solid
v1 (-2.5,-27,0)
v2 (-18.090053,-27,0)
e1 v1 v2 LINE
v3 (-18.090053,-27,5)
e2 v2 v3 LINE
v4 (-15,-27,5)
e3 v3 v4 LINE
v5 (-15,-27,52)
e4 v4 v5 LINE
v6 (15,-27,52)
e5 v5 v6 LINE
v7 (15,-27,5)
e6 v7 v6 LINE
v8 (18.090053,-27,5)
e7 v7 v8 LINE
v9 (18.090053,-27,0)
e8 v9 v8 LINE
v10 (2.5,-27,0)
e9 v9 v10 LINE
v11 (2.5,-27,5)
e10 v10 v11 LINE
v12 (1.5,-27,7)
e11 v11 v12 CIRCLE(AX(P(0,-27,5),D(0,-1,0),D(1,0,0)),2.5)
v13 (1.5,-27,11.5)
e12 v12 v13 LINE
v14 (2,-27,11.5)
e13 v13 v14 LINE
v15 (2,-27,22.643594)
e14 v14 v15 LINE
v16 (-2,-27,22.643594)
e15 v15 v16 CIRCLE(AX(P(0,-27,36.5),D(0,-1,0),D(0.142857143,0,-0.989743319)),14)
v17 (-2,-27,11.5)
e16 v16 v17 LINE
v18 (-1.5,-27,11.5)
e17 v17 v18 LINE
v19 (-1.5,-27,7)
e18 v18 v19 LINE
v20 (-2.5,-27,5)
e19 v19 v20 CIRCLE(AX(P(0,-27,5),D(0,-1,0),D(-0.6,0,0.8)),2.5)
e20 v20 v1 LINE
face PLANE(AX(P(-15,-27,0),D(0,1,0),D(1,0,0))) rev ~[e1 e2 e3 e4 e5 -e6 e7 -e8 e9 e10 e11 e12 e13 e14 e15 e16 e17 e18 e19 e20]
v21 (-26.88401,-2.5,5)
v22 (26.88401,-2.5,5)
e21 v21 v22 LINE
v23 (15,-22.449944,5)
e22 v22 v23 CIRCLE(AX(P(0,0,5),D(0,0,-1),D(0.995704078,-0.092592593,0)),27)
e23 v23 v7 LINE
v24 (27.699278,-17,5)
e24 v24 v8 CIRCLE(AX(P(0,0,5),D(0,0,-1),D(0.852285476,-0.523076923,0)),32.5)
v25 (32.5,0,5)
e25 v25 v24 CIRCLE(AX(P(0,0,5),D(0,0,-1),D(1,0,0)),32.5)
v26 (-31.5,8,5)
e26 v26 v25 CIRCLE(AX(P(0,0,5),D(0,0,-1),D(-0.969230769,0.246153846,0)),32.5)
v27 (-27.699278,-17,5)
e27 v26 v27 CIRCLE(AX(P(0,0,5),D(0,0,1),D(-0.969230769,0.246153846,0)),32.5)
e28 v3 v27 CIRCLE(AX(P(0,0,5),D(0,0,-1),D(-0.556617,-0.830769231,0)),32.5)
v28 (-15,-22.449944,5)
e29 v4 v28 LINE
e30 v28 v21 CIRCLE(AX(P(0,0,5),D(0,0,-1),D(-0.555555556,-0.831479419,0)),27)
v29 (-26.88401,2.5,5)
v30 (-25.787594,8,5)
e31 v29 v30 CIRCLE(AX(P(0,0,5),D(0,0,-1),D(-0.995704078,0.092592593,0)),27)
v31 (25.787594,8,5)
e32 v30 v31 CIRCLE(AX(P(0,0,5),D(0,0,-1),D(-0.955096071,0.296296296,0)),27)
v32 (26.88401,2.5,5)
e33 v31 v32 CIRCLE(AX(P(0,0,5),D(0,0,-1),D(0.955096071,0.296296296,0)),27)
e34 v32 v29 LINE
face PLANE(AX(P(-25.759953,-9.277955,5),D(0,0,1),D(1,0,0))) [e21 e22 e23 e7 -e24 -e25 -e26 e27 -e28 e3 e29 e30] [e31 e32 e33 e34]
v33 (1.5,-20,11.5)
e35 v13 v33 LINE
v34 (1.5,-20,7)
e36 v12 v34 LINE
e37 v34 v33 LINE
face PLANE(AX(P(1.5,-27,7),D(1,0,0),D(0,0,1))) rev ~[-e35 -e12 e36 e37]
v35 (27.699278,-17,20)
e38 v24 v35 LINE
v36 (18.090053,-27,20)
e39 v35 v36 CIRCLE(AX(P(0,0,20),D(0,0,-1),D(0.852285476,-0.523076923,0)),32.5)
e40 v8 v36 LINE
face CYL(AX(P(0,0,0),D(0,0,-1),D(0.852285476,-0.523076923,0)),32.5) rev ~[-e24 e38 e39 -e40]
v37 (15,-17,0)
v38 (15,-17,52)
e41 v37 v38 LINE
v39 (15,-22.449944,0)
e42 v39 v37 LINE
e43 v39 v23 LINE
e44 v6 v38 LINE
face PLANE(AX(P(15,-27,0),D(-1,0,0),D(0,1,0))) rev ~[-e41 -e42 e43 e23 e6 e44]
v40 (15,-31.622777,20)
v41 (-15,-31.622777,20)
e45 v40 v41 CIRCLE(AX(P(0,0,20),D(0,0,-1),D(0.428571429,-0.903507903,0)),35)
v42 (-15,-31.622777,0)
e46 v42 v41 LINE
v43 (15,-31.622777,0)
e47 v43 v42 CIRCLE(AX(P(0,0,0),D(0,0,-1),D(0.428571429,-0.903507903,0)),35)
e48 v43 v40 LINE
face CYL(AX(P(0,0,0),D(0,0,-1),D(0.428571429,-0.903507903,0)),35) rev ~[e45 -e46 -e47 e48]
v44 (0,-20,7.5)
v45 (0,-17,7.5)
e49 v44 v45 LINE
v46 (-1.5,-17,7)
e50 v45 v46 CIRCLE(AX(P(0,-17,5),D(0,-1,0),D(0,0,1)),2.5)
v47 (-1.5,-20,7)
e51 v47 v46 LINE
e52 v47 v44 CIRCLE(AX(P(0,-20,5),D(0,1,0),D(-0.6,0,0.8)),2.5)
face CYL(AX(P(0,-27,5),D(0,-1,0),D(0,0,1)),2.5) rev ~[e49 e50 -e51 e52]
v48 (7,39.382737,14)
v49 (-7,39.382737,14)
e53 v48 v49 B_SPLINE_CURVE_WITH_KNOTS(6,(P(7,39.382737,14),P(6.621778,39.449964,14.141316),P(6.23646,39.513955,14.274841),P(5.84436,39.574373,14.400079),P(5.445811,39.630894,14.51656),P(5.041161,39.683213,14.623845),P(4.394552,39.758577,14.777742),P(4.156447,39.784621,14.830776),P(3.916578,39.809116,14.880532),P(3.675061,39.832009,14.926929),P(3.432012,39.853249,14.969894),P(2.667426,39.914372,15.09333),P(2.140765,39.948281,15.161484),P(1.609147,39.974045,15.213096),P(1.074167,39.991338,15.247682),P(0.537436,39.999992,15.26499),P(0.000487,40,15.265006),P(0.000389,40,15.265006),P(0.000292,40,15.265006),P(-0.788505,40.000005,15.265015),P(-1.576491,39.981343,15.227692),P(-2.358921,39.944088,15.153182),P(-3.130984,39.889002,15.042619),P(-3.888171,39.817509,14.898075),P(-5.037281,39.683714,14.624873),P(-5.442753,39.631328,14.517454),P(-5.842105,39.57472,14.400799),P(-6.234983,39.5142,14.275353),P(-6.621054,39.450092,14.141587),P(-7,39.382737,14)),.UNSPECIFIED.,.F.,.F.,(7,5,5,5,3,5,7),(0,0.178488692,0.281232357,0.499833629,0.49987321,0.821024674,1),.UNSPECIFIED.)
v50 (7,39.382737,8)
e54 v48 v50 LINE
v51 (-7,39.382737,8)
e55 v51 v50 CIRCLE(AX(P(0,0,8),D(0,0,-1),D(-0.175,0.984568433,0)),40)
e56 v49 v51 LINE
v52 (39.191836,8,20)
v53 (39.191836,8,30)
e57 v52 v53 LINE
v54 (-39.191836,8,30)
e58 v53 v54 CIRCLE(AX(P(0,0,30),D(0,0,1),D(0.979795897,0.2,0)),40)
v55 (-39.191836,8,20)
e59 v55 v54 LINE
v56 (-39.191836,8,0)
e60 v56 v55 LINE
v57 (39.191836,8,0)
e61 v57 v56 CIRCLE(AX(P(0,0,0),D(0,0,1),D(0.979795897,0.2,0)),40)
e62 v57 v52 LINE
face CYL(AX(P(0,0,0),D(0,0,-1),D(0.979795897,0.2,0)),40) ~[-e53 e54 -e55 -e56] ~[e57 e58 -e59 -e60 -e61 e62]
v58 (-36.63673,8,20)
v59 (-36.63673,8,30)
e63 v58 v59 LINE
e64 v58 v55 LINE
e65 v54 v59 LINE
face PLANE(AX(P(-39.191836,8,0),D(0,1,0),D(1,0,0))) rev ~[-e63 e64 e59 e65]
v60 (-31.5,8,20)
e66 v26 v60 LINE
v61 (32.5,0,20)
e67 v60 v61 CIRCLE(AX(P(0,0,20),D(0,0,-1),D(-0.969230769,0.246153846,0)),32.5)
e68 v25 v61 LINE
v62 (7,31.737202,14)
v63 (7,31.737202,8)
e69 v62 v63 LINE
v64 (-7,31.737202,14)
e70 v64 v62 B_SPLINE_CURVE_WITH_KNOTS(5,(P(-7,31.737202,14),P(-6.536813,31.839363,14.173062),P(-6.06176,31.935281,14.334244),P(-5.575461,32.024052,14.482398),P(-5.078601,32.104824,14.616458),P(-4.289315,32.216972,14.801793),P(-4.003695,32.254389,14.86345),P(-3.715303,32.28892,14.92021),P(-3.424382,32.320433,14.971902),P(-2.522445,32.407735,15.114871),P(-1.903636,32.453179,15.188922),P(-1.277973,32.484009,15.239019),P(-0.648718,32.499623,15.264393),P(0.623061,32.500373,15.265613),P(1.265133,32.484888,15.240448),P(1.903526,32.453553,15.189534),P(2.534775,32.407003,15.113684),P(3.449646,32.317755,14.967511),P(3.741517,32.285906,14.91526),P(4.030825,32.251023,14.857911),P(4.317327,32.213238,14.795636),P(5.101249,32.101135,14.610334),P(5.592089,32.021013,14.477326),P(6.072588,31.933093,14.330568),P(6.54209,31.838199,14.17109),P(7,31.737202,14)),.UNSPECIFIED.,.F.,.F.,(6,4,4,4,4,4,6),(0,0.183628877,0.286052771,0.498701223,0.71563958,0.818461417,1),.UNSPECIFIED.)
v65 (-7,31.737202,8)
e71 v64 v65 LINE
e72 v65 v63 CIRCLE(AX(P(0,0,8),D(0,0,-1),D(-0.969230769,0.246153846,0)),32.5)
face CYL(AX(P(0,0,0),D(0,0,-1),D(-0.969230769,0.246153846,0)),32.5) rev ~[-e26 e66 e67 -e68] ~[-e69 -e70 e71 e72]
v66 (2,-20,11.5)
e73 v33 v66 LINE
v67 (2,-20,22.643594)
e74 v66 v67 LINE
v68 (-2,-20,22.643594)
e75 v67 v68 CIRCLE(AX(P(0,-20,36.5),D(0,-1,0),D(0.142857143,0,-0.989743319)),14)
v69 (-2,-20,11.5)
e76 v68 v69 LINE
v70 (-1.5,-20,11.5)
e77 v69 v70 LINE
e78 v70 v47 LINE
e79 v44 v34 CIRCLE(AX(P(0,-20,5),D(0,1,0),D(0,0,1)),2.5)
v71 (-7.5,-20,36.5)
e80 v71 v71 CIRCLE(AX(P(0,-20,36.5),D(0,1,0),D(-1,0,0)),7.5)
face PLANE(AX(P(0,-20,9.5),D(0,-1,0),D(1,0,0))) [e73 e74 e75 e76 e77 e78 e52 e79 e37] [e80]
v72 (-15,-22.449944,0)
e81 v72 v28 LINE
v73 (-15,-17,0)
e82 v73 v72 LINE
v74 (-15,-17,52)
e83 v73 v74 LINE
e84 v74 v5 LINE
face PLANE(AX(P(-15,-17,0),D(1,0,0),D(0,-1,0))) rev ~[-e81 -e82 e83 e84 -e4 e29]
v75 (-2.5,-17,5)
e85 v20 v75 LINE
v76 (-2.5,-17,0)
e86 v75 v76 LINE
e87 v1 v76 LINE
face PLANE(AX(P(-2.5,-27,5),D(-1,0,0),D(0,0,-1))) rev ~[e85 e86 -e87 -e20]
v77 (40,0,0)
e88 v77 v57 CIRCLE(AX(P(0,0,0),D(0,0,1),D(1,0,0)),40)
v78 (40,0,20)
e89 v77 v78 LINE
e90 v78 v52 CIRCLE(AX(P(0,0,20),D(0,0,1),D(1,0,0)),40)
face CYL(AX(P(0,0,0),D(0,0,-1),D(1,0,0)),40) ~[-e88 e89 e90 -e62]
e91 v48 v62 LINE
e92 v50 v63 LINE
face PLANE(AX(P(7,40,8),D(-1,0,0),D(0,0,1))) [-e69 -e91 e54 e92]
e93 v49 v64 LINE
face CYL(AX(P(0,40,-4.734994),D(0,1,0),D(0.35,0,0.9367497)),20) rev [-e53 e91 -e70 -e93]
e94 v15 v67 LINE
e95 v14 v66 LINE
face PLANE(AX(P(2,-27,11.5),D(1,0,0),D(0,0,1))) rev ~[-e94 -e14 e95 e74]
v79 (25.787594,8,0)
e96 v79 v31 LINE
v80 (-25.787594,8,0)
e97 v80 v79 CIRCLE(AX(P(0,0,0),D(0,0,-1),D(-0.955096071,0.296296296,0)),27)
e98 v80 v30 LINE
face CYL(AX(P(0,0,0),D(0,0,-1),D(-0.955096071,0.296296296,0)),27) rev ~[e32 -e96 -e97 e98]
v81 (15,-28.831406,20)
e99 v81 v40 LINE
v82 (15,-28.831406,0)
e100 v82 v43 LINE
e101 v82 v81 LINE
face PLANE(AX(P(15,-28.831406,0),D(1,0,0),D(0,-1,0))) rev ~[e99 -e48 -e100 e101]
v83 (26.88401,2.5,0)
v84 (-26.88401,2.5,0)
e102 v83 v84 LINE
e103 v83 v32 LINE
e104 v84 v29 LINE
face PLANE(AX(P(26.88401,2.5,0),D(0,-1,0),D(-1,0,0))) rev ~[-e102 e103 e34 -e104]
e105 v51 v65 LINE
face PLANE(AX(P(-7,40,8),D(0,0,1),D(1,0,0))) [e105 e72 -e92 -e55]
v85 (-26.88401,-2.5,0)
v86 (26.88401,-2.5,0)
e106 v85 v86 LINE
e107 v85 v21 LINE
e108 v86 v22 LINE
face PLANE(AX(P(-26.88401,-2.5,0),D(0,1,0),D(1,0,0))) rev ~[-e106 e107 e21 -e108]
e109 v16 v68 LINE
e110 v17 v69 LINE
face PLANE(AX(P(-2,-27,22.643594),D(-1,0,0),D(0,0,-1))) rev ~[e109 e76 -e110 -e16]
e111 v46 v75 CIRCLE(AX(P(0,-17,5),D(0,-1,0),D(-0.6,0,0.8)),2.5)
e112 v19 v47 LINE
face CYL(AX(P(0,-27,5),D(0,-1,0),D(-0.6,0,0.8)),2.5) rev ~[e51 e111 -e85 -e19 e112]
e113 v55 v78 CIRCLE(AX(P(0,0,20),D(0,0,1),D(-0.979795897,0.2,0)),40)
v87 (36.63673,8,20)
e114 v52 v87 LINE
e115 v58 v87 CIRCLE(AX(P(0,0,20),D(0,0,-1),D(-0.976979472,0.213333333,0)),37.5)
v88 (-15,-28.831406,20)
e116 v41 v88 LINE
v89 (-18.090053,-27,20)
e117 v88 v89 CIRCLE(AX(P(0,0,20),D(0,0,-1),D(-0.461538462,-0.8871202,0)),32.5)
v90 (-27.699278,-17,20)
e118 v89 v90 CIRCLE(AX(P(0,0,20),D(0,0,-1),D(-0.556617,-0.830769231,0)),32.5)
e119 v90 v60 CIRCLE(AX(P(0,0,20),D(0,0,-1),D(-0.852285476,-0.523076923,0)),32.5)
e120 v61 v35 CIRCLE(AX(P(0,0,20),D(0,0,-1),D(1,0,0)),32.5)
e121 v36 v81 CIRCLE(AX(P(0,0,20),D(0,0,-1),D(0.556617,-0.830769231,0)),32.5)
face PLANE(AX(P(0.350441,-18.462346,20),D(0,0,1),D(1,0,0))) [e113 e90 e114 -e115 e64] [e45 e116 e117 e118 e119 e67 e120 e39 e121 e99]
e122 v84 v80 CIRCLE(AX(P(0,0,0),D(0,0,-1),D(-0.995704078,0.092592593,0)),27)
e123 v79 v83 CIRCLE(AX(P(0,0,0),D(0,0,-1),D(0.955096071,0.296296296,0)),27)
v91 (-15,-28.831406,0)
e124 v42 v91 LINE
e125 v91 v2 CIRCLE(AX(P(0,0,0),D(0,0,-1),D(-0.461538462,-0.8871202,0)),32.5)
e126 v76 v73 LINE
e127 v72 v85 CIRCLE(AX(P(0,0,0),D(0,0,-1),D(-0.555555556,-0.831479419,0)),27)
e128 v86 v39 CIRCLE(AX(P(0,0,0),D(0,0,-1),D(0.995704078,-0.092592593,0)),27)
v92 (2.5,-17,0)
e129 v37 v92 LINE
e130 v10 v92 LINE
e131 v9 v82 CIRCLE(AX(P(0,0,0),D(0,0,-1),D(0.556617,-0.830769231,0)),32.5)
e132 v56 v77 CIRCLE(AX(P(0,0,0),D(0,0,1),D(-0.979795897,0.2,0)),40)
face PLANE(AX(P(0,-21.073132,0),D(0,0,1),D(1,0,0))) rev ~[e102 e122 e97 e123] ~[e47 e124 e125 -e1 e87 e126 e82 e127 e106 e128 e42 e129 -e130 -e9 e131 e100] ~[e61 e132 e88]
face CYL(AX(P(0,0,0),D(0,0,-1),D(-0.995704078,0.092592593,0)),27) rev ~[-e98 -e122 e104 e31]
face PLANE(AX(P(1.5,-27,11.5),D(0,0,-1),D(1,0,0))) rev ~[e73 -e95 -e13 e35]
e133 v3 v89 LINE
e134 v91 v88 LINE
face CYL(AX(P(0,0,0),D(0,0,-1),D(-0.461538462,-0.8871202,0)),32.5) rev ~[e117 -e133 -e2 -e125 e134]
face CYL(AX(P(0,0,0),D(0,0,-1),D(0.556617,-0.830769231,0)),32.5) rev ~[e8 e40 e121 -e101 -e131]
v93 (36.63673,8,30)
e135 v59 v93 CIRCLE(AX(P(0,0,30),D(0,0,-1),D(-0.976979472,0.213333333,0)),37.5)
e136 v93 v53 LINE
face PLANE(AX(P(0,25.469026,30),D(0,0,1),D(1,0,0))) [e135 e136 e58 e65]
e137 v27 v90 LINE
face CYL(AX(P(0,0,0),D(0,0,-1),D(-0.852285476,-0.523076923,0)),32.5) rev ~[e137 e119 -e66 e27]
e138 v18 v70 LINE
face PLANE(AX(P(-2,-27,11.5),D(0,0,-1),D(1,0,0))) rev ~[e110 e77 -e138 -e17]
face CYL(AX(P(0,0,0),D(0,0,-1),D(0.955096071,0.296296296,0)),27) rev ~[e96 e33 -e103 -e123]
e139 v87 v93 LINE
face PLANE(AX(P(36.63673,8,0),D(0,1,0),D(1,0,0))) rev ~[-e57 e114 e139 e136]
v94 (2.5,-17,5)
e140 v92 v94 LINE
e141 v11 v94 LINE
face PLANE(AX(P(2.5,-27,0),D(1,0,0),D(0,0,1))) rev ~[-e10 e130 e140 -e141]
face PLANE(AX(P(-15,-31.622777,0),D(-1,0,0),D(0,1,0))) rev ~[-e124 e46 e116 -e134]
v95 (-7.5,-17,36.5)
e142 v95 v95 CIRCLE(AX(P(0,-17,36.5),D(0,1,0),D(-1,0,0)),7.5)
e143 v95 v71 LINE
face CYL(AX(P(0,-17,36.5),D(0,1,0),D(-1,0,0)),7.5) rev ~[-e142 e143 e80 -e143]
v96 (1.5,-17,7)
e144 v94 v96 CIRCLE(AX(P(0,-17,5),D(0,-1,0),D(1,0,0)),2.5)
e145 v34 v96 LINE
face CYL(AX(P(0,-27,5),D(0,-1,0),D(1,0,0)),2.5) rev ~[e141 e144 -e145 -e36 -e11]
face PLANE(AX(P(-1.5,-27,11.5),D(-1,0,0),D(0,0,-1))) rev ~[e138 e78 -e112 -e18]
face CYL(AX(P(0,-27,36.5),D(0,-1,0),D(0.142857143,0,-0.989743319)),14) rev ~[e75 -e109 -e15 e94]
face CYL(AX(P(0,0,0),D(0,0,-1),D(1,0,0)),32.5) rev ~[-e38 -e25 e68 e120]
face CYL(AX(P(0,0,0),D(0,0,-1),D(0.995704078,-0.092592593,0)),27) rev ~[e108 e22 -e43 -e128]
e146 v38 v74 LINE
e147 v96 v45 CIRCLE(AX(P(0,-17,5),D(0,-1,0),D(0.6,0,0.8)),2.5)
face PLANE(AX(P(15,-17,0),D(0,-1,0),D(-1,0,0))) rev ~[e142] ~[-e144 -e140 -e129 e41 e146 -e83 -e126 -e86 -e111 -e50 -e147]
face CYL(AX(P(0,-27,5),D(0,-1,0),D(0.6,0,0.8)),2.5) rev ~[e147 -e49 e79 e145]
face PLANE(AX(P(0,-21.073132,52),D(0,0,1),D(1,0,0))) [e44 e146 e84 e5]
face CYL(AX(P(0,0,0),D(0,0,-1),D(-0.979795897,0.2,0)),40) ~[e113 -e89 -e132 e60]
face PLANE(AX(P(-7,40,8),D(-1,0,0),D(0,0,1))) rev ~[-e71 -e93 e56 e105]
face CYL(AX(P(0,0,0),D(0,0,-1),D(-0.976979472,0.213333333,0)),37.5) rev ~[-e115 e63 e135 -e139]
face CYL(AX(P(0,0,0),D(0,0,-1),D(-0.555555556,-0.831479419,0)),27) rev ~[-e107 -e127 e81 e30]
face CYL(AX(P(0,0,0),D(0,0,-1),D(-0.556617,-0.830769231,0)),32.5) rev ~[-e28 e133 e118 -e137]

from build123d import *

# Parameters (mm, degrees)
F3_DEPTH  = 20
F4_DEPTH  = 30
F5_DEPTH  = 5
F6_DEPTH  = 52
F8_DEPTH  = 10
F9_DEPTH  = 7
F11_W     = 14
F11_H     = 6
F12_DEPTH = 20
F13_R     = 7.5
F14_DEPTH = 25


with BuildPart() as f3:
    # F2 (on Top) → F3 (new body)
    with BuildSketch(Plane.XY):
        with BuildLine():
            ThreePointArc((37.5, 0), (-4.0232211828, -37.2835579219), (-36.6367302034, 8))
            Line((-36.6367302034, 8), (-39.1918358845, 8))
            ThreePointArc((-39.1918358845, 8), (-4.0203584802, -39.7974461202), (40, 0))
            ThreePointArc((40, 0), (39.7974461202, 4.0203584802), (39.1918358845, 8))
            Line((39.1918358845, 8), (36.6367302034, 8))
            ThreePointArc((36.6367302034, 8), (37.2835579219, 4.0232211828), (37.5, 0))
        make_face()
        with BuildLine():
            Line((-39.1918358845, 8), (-36.6367302034, 8))
            ThreePointArc((-36.6367302034, 8), (0, 37.5), (36.6367302034, 8))
            Line((36.6367302034, 8), (39.1918358845, 8))
            ThreePointArc((39.1918358845, 8), (0, 40), (-39.1918358845, 8))
        make_face()
        with BuildLine():
            Line((-36.6367302034, 8), (-34.0734500748, 8))
            ThreePointArc((-34.0734500748, 8), (0, 35), (34.0734500748, 8))
            Line((34.0734500748, 8), (36.6367302034, 8))
            ThreePointArc((36.6367302034, 8), (0, 37.5), (-36.6367302034, 8))
        make_face()
        with BuildLine():
            ThreePointArc((-22.2710574513, -27), (-26.9013321157, -22.3901391332), (-30.5941170816, -17))
            ThreePointArc((-30.5941170816, -17), (-34.6658846776, -4.824566252), (-34.0734500748, 8))
            Line((-34.0734500748, 8), (-36.6367302034, 8))
            ThreePointArc((-36.6367302034, 8), (-4.0232211828, -37.2835579219), (37.5, 0))
            ThreePointArc((37.5, 0), (37.2835579219, 4.0232211828), (36.6367302034, 8))
            Line((36.6367302034, 8), (34.0734500748, 8))
            ThreePointArc((34.0734500748, 8), (34.7675908902, 4.0267385923), (35, 0))
            ThreePointArc((35, 0), (33.8806294057, -8.7808286097), (30.5941170816, -17))
            ThreePointArc((30.5941170816, -17), (26.9013321157, -22.3901391332), (22.2710574513, -27))
            ThreePointArc((22.2710574513, -27), (18.7783238539, -29.5359874262), (15, -31.6227766017))
            ThreePointArc((15, -31.6227766017), (0, -35), (-15, -31.6227766017))
            ThreePointArc((-15, -31.6227766017), (-18.7783238539, -29.5359874262), (-22.2710574513, -27))
        make_face()
        with BuildLine():
            ThreePointArc((-34.0734500748, 8), (-34.6658846776, -4.824566252), (-30.5941170816, -17))
            Line((-30.5941170816, -17), (-27.6992779689, -17))
            ThreePointArc((-27.6992779689, -17), (-32.1308049699, -4.884810333), (-31.5, 8))
            Line((-31.5, 8), (-34.0734500748, 8))
        make_face()
        with BuildLine():
            ThreePointArc((34.0734500748, 8), (0, 35), (-34.0734500748, 8))
            Line((-34.0734500748, 8), (-31.5, 8))
            ThreePointArc((-31.5, 8), (0, 32.5), (31.5, 8))
            Line((31.5, 8), (34.0734500748, 8))
        make_face()
        with BuildLine():
            ThreePointArc((35, 0), (34.7675908902, 4.0267385923), (34.0734500748, 8))
            Line((34.0734500748, 8), (31.5, 8))
            ThreePointArc((31.5, 8), (32.2490309932, 4.0311288741), (32.5, 0))
            ThreePointArc((32.5, 0), (31.2768007794, -8.8324250919), (27.6992779689, -17))
            Line((27.6992779689, -17), (30.5941170816, -17))
            ThreePointArc((30.5941170816, -17), (33.8806294057, -8.7808286097), (35, 0))
        make_face()
        with BuildLine():
            Line((-27.6992779689, -17), (-30.5941170816, -17))
            ThreePointArc((-30.5941170816, -17), (-26.9013321157, -22.3901391332), (-22.2710574513, -27))
            Line((-22.2710574513, -27), (-18.0900525151, -27))
            ThreePointArc((-18.0900525151, -27), (-23.4342846391, -22.5185324445), (-27.6992779689, -17))
        make_face()
        with BuildLine():
            Line((18.0900525151, -27), (22.2710574513, -27))
            ThreePointArc((22.2710574513, -27), (26.9013321157, -22.3901391332), (30.5941170816, -17))
            Line((30.5941170816, -17), (27.6992779689, -17))
            ThreePointArc((27.6992779689, -17), (23.4342846391, -22.5185324445), (18.0900525151, -27))
        make_face()
        with BuildLine():
            Line((-18.0900525151, -27), (-22.2710574513, -27))
            ThreePointArc((-22.2710574513, -27), (-18.7783238539, -29.5359874262), (-15, -31.6227766017))
            Line((-15, -31.6227766017), (-15, -28.8314064867))
            ThreePointArc((-15, -28.8314064867), (-16.5703471989, -27.9584261665), (-18.0900525151, -27))
        make_face()
        with BuildLine():
            Line((15, -28.8314064867), (15, -31.6227766017))
            ThreePointArc((15, -31.6227766017), (18.7783238539, -29.5359874262), (22.2710574513, -27))
            Line((22.2710574513, -27), (18.0900525151, -27))
            ThreePointArc((18.0900525151, -27), (16.5703471989, -27.9584261665), (15, -28.8314064867))
        make_face()
    extrude(amount=F3_DEPTH)

    # F2 (on Top) → F4 (join)
    with BuildSketch(Plane.XY):
        with BuildLine():
            Line((-39.1918358845, 8), (-36.6367302034, 8))
            ThreePointArc((-36.6367302034, 8), (0, 37.5), (36.6367302034, 8))
            Line((36.6367302034, 8), (39.1918358845, 8))
            ThreePointArc((39.1918358845, 8), (0, 40), (-39.1918358845, 8))
        make_face()
    extrude(amount=F4_DEPTH)

    # F2 (on Top) → F5 (join)
    with BuildSketch(Plane.XY):
        with BuildLine():
            ThreePointArc((-31.5, 8), (-32.1308049699, -4.884810333), (-27.6992779689, -17))
            ThreePointArc((-27.6992779689, -17), (-23.4342846391, -22.5185324445), (-18.0900525151, -27))
            Line((-18.0900525151, -27), (-15, -27))
            Line((-15, -27), (-15, -22.4499443206))
            ThreePointArc((-15, -22.4499443206), (-23.1962851655, -13.8178274168), (-26.8840101175, -2.5))
            Line((-26.8840101175, -2.5), (-30, -2.5))
            Line((-30, -2.5), (-30, 2.5))
            Line((-30, 2.5), (-26.8840101175, 2.5))
            ThreePointArc((-26.8840101175, 2.5), (-26.4789910661, 5.2785445079), (-25.7875939165, 8))
            Line((-25.7875939165, 8), (-31.5, 8))
        make_face()
        with BuildLine():
            Line((-27.6992779689, -17), (-30.5941170816, -17))
            ThreePointArc((-30.5941170816, -17), (-26.9013321157, -22.3901391332), (-22.2710574513, -27))
            Line((-22.2710574513, -27), (-18.0900525151, -27))
            ThreePointArc((-18.0900525151, -27), (-23.4342846391, -22.5185324445), (-27.6992779689, -17))
        make_face()
        with BuildLine():
            Line((18.0900525151, -27), (22.2710574513, -27))
            ThreePointArc((22.2710574513, -27), (26.9013321157, -22.3901391332), (30.5941170816, -17))
            Line((30.5941170816, -17), (27.6992779689, -17))
            ThreePointArc((27.6992779689, -17), (23.4342846391, -22.5185324445), (18.0900525151, -27))
        make_face()
        with BuildLine():
            ThreePointArc((32.5, 0), (32.2490309932, 4.0311288741), (31.5, 8))
            Line((31.5, 8), (25.7875939165, 8))
            ThreePointArc((25.7875939165, 8), (26.4789910661, 5.2785445079), (26.8840101175, 2.5))
            Line((26.8840101175, 2.5), (30, 2.5))
            Line((30, 2.5), (30, -2.5))
            Line((30, -2.5), (26.8840101175, -2.5))
            ThreePointArc((26.8840101175, -2.5), (23.1962851655, -13.8178274168), (15, -22.4499443206))
            Line((15, -22.4499443206), (15, -27))
            Line((15, -27), (18.0900525151, -27))
            ThreePointArc((18.0900525151, -27), (23.4342846391, -22.5185324445), (27.6992779689, -17))
            ThreePointArc((27.6992779689, -17), (31.2768007794, -8.8324250919), (32.5, 0))
        make_face()
        with BuildLine():
            ThreePointArc((35, 0), (34.7675908902, 4.0267385923), (34.0734500748, 8))
            Line((34.0734500748, 8), (31.5, 8))
            ThreePointArc((31.5, 8), (32.2490309932, 4.0311288741), (32.5, 0))
            ThreePointArc((32.5, 0), (31.2768007794, -8.8324250919), (27.6992779689, -17))
            Line((27.6992779689, -17), (30.5941170816, -17))
            ThreePointArc((30.5941170816, -17), (33.8806294057, -8.7808286097), (35, 0))
        make_face()
        with BuildLine():
            ThreePointArc((31.5, 8), (0, 32.5), (-31.5, 8))
            Line((-31.5, 8), (-25.7875939165, 8))
            ThreePointArc((-25.7875939165, 8), (0, 27), (25.7875939165, 8))
            Line((25.7875939165, 8), (31.5, 8))
        make_face()
        with BuildLine():
            ThreePointArc((34.0734500748, 8), (0, 35), (-34.0734500748, 8))
            Line((-34.0734500748, 8), (-31.5, 8))
            ThreePointArc((-31.5, 8), (0, 32.5), (31.5, 8))
            Line((31.5, 8), (34.0734500748, 8))
        make_face()
        with BuildLine():
            ThreePointArc((-26.8840101175, -2.5), (-27, 0), (-26.8840101175, 2.5))
            Line((-26.8840101175, 2.5), (-30, 2.5))
            Line((-30, 2.5), (-30, -2.5))
            Line((-30, -2.5), (-26.8840101175, -2.5))
        make_face()
        with BuildLine():
            Line((30, 2.5), (26.8840101175, 2.5))
            ThreePointArc((26.8840101175, 2.5), (26.9709869413, 1.2513446421), (27, 0))
            ThreePointArc((27, 0), (26.9709869413, -1.2513446421), (26.8840101175, -2.5))
            Line((26.8840101175, -2.5), (30, -2.5))
            Line((30, -2.5), (30, 2.5))
        make_face()
        with BuildLine():
            Line((26.8840101175, 2.5), (-26.8840101175, 2.5))
            ThreePointArc((-26.8840101175, 2.5), (-27, 0), (-26.8840101175, -2.5))
            Line((-26.8840101175, -2.5), (26.8840101175, -2.5))
            ThreePointArc((26.8840101175, -2.5), (26.9709869413, -1.2513446421), (27, 0))
            ThreePointArc((27, 0), (26.9709869413, 1.2513446421), (26.8840101175, 2.5))
        make_face()
    extrude(amount=F5_DEPTH)

    # F2 (on Top) → F6 (join)
    with BuildSketch(Plane.XY):
        with BuildLine():
            ThreePointArc((-15, -22.4499443206), (-7.8374582405, -25.8374582405), (0, -27))
            ThreePointArc((0, -27), (7.8374582405, -25.8374582405), (15, -22.4499443206))
            Line((15, -22.4499443206), (15, -17))
            Line((15, -17), (-15, -17))
            Line((-15, -17), (-15, -22.4499443206))
        make_face()
        with BuildLine():
            Line((-15, -22.4499443206), (-15, -27))
            Line((-15, -27), (0, -27))
            ThreePointArc((0, -27), (-7.8374582405, -25.8374582405), (-15, -22.4499443206))
        make_face()
        with BuildLine():
            ThreePointArc((15, -22.4499443206), (7.8374582405, -25.8374582405), (0, -27))
            Line((0, -27), (15, -27))
            Line((15, -27), (15, -22.4499443206))
        make_face()
    extrude(amount=F6_DEPTH)

    # F7 (on face) → F8 (cut)
    with BuildSketch(Plane.XZ.offset(27)):
        with BuildLine():
            Line((-2.5, 5), (2.5, 5))
            ThreePointArc((2.5, 5), (2.2360679775, 6.1180339887), (1.5, 7))
            ThreePointArc((1.5, 7), (0.790569415, 7.3717082451), (0, 7.5))
            ThreePointArc((0, 7.5), (-0.790569415, 7.3717082451), (-1.5, 7))
            ThreePointArc((-1.5, 7), (-2.2360679775, 6.1180339887), (-2.5, 5))
        make_face()
        with BuildLine():
            ThreePointArc((-2.5, 5), (0, 2.5), (2.5, 5))
            Line((2.5, 5), (-2.5, 5))
        make_face()
        with BuildLine():
            Line((-2.5, 0), (2.5, 0))
            Line((2.5, 0), (2.5, 5))
            ThreePointArc((2.5, 5), (0, 2.5), (-2.5, 5))
            Line((-2.5, 5), (-2.5, 0))
        make_face()
    extrude(amount=-F8_DEPTH, mode=Mode.SUBTRACT)

    # F7 (on face) → F9 (cut)
    with BuildSketch(Plane.XZ.offset(27)):
        Polygon((-1.5, 7.5), (0, 7.5), (1.5, 7.5), (1.5, 11.5), (-1.5, 11.5), align=None)
        Polygon((-1.5, 11.5), (1.5, 11.5), (2, 11.5), (2, 22.5), (0, 22.5), (-2, 22.5), (-2, 11.5), align=None)
        with BuildLine():
            Line((-1.5, 7.5), (-1.5, 7))
            ThreePointArc((-1.5, 7), (-0.790569415, 7.3717082451), (0, 7.5))
            Line((0, 7.5), (-1.5, 7.5))
        make_face()
        with BuildLine():
            ThreePointArc((0, 7.5), (0.790569415, 7.3717082451), (1.5, 7))
            Line((1.5, 7), (1.5, 7.5))
            Line((1.5, 7.5), (0, 7.5))
        make_face()
        with BuildLine():
            ThreePointArc((-2, 22.6435935394), (-1.0025740751, 22.535944528), (0, 22.5))
            ThreePointArc((0, 22.5), (1.0025740751, 22.535944528), (2, 22.6435935394))
            ThreePointArc((2, 22.6435935394), (10.5830052443, 27.3348486101), (14, 36.5))
            ThreePointArc((14, 36.5), (-9.1651513899, 47.0830052443), (-2, 22.6435935394))
        make_face()
        with BuildLine():
            Line((-2, 22.6435935394), (-2, 22.5))
            Line((-2, 22.5), (0, 22.5))
            ThreePointArc((0, 22.5), (-1.0025740751, 22.535944528), (-2, 22.6435935394))
        make_face()
        with BuildLine():
            Line((0, 22.5), (2, 22.5))
            Line((2, 22.5), (2, 22.6435935394))
            ThreePointArc((2, 22.6435935394), (1.0025740751, 22.535944528), (0, 22.5))
        make_face()
    extrude(amount=-F9_DEPTH, mode=Mode.SUBTRACT)

    # F11 (on offset) → F12 (cut)
    with BuildSketch(Plane.XZ.offset(-40)):
        with Locations((0, 11)):
            Rectangle(F11_W, F11_H)
        with BuildLine():
            ThreePointArc((7, 14), (0, 15.2650060048), (-7, 14))
            Line((-7, 14), (7, 14))
        make_face()
    extrude(amount=F12_DEPTH, mode=Mode.SUBTRACT)

    # F13 (on face) → F14 (cut)
    with BuildSketch(Plane(origin=(0, -17, 0), x_dir=(-1, 0, 0), z_dir=(0, 1, 0))):
        with Locations((0, 36.5)):
            Circle(F13_R)
    extrude(amount=-F14_DEPTH, mode=Mode.SUBTRACT)


solid = f3.part
